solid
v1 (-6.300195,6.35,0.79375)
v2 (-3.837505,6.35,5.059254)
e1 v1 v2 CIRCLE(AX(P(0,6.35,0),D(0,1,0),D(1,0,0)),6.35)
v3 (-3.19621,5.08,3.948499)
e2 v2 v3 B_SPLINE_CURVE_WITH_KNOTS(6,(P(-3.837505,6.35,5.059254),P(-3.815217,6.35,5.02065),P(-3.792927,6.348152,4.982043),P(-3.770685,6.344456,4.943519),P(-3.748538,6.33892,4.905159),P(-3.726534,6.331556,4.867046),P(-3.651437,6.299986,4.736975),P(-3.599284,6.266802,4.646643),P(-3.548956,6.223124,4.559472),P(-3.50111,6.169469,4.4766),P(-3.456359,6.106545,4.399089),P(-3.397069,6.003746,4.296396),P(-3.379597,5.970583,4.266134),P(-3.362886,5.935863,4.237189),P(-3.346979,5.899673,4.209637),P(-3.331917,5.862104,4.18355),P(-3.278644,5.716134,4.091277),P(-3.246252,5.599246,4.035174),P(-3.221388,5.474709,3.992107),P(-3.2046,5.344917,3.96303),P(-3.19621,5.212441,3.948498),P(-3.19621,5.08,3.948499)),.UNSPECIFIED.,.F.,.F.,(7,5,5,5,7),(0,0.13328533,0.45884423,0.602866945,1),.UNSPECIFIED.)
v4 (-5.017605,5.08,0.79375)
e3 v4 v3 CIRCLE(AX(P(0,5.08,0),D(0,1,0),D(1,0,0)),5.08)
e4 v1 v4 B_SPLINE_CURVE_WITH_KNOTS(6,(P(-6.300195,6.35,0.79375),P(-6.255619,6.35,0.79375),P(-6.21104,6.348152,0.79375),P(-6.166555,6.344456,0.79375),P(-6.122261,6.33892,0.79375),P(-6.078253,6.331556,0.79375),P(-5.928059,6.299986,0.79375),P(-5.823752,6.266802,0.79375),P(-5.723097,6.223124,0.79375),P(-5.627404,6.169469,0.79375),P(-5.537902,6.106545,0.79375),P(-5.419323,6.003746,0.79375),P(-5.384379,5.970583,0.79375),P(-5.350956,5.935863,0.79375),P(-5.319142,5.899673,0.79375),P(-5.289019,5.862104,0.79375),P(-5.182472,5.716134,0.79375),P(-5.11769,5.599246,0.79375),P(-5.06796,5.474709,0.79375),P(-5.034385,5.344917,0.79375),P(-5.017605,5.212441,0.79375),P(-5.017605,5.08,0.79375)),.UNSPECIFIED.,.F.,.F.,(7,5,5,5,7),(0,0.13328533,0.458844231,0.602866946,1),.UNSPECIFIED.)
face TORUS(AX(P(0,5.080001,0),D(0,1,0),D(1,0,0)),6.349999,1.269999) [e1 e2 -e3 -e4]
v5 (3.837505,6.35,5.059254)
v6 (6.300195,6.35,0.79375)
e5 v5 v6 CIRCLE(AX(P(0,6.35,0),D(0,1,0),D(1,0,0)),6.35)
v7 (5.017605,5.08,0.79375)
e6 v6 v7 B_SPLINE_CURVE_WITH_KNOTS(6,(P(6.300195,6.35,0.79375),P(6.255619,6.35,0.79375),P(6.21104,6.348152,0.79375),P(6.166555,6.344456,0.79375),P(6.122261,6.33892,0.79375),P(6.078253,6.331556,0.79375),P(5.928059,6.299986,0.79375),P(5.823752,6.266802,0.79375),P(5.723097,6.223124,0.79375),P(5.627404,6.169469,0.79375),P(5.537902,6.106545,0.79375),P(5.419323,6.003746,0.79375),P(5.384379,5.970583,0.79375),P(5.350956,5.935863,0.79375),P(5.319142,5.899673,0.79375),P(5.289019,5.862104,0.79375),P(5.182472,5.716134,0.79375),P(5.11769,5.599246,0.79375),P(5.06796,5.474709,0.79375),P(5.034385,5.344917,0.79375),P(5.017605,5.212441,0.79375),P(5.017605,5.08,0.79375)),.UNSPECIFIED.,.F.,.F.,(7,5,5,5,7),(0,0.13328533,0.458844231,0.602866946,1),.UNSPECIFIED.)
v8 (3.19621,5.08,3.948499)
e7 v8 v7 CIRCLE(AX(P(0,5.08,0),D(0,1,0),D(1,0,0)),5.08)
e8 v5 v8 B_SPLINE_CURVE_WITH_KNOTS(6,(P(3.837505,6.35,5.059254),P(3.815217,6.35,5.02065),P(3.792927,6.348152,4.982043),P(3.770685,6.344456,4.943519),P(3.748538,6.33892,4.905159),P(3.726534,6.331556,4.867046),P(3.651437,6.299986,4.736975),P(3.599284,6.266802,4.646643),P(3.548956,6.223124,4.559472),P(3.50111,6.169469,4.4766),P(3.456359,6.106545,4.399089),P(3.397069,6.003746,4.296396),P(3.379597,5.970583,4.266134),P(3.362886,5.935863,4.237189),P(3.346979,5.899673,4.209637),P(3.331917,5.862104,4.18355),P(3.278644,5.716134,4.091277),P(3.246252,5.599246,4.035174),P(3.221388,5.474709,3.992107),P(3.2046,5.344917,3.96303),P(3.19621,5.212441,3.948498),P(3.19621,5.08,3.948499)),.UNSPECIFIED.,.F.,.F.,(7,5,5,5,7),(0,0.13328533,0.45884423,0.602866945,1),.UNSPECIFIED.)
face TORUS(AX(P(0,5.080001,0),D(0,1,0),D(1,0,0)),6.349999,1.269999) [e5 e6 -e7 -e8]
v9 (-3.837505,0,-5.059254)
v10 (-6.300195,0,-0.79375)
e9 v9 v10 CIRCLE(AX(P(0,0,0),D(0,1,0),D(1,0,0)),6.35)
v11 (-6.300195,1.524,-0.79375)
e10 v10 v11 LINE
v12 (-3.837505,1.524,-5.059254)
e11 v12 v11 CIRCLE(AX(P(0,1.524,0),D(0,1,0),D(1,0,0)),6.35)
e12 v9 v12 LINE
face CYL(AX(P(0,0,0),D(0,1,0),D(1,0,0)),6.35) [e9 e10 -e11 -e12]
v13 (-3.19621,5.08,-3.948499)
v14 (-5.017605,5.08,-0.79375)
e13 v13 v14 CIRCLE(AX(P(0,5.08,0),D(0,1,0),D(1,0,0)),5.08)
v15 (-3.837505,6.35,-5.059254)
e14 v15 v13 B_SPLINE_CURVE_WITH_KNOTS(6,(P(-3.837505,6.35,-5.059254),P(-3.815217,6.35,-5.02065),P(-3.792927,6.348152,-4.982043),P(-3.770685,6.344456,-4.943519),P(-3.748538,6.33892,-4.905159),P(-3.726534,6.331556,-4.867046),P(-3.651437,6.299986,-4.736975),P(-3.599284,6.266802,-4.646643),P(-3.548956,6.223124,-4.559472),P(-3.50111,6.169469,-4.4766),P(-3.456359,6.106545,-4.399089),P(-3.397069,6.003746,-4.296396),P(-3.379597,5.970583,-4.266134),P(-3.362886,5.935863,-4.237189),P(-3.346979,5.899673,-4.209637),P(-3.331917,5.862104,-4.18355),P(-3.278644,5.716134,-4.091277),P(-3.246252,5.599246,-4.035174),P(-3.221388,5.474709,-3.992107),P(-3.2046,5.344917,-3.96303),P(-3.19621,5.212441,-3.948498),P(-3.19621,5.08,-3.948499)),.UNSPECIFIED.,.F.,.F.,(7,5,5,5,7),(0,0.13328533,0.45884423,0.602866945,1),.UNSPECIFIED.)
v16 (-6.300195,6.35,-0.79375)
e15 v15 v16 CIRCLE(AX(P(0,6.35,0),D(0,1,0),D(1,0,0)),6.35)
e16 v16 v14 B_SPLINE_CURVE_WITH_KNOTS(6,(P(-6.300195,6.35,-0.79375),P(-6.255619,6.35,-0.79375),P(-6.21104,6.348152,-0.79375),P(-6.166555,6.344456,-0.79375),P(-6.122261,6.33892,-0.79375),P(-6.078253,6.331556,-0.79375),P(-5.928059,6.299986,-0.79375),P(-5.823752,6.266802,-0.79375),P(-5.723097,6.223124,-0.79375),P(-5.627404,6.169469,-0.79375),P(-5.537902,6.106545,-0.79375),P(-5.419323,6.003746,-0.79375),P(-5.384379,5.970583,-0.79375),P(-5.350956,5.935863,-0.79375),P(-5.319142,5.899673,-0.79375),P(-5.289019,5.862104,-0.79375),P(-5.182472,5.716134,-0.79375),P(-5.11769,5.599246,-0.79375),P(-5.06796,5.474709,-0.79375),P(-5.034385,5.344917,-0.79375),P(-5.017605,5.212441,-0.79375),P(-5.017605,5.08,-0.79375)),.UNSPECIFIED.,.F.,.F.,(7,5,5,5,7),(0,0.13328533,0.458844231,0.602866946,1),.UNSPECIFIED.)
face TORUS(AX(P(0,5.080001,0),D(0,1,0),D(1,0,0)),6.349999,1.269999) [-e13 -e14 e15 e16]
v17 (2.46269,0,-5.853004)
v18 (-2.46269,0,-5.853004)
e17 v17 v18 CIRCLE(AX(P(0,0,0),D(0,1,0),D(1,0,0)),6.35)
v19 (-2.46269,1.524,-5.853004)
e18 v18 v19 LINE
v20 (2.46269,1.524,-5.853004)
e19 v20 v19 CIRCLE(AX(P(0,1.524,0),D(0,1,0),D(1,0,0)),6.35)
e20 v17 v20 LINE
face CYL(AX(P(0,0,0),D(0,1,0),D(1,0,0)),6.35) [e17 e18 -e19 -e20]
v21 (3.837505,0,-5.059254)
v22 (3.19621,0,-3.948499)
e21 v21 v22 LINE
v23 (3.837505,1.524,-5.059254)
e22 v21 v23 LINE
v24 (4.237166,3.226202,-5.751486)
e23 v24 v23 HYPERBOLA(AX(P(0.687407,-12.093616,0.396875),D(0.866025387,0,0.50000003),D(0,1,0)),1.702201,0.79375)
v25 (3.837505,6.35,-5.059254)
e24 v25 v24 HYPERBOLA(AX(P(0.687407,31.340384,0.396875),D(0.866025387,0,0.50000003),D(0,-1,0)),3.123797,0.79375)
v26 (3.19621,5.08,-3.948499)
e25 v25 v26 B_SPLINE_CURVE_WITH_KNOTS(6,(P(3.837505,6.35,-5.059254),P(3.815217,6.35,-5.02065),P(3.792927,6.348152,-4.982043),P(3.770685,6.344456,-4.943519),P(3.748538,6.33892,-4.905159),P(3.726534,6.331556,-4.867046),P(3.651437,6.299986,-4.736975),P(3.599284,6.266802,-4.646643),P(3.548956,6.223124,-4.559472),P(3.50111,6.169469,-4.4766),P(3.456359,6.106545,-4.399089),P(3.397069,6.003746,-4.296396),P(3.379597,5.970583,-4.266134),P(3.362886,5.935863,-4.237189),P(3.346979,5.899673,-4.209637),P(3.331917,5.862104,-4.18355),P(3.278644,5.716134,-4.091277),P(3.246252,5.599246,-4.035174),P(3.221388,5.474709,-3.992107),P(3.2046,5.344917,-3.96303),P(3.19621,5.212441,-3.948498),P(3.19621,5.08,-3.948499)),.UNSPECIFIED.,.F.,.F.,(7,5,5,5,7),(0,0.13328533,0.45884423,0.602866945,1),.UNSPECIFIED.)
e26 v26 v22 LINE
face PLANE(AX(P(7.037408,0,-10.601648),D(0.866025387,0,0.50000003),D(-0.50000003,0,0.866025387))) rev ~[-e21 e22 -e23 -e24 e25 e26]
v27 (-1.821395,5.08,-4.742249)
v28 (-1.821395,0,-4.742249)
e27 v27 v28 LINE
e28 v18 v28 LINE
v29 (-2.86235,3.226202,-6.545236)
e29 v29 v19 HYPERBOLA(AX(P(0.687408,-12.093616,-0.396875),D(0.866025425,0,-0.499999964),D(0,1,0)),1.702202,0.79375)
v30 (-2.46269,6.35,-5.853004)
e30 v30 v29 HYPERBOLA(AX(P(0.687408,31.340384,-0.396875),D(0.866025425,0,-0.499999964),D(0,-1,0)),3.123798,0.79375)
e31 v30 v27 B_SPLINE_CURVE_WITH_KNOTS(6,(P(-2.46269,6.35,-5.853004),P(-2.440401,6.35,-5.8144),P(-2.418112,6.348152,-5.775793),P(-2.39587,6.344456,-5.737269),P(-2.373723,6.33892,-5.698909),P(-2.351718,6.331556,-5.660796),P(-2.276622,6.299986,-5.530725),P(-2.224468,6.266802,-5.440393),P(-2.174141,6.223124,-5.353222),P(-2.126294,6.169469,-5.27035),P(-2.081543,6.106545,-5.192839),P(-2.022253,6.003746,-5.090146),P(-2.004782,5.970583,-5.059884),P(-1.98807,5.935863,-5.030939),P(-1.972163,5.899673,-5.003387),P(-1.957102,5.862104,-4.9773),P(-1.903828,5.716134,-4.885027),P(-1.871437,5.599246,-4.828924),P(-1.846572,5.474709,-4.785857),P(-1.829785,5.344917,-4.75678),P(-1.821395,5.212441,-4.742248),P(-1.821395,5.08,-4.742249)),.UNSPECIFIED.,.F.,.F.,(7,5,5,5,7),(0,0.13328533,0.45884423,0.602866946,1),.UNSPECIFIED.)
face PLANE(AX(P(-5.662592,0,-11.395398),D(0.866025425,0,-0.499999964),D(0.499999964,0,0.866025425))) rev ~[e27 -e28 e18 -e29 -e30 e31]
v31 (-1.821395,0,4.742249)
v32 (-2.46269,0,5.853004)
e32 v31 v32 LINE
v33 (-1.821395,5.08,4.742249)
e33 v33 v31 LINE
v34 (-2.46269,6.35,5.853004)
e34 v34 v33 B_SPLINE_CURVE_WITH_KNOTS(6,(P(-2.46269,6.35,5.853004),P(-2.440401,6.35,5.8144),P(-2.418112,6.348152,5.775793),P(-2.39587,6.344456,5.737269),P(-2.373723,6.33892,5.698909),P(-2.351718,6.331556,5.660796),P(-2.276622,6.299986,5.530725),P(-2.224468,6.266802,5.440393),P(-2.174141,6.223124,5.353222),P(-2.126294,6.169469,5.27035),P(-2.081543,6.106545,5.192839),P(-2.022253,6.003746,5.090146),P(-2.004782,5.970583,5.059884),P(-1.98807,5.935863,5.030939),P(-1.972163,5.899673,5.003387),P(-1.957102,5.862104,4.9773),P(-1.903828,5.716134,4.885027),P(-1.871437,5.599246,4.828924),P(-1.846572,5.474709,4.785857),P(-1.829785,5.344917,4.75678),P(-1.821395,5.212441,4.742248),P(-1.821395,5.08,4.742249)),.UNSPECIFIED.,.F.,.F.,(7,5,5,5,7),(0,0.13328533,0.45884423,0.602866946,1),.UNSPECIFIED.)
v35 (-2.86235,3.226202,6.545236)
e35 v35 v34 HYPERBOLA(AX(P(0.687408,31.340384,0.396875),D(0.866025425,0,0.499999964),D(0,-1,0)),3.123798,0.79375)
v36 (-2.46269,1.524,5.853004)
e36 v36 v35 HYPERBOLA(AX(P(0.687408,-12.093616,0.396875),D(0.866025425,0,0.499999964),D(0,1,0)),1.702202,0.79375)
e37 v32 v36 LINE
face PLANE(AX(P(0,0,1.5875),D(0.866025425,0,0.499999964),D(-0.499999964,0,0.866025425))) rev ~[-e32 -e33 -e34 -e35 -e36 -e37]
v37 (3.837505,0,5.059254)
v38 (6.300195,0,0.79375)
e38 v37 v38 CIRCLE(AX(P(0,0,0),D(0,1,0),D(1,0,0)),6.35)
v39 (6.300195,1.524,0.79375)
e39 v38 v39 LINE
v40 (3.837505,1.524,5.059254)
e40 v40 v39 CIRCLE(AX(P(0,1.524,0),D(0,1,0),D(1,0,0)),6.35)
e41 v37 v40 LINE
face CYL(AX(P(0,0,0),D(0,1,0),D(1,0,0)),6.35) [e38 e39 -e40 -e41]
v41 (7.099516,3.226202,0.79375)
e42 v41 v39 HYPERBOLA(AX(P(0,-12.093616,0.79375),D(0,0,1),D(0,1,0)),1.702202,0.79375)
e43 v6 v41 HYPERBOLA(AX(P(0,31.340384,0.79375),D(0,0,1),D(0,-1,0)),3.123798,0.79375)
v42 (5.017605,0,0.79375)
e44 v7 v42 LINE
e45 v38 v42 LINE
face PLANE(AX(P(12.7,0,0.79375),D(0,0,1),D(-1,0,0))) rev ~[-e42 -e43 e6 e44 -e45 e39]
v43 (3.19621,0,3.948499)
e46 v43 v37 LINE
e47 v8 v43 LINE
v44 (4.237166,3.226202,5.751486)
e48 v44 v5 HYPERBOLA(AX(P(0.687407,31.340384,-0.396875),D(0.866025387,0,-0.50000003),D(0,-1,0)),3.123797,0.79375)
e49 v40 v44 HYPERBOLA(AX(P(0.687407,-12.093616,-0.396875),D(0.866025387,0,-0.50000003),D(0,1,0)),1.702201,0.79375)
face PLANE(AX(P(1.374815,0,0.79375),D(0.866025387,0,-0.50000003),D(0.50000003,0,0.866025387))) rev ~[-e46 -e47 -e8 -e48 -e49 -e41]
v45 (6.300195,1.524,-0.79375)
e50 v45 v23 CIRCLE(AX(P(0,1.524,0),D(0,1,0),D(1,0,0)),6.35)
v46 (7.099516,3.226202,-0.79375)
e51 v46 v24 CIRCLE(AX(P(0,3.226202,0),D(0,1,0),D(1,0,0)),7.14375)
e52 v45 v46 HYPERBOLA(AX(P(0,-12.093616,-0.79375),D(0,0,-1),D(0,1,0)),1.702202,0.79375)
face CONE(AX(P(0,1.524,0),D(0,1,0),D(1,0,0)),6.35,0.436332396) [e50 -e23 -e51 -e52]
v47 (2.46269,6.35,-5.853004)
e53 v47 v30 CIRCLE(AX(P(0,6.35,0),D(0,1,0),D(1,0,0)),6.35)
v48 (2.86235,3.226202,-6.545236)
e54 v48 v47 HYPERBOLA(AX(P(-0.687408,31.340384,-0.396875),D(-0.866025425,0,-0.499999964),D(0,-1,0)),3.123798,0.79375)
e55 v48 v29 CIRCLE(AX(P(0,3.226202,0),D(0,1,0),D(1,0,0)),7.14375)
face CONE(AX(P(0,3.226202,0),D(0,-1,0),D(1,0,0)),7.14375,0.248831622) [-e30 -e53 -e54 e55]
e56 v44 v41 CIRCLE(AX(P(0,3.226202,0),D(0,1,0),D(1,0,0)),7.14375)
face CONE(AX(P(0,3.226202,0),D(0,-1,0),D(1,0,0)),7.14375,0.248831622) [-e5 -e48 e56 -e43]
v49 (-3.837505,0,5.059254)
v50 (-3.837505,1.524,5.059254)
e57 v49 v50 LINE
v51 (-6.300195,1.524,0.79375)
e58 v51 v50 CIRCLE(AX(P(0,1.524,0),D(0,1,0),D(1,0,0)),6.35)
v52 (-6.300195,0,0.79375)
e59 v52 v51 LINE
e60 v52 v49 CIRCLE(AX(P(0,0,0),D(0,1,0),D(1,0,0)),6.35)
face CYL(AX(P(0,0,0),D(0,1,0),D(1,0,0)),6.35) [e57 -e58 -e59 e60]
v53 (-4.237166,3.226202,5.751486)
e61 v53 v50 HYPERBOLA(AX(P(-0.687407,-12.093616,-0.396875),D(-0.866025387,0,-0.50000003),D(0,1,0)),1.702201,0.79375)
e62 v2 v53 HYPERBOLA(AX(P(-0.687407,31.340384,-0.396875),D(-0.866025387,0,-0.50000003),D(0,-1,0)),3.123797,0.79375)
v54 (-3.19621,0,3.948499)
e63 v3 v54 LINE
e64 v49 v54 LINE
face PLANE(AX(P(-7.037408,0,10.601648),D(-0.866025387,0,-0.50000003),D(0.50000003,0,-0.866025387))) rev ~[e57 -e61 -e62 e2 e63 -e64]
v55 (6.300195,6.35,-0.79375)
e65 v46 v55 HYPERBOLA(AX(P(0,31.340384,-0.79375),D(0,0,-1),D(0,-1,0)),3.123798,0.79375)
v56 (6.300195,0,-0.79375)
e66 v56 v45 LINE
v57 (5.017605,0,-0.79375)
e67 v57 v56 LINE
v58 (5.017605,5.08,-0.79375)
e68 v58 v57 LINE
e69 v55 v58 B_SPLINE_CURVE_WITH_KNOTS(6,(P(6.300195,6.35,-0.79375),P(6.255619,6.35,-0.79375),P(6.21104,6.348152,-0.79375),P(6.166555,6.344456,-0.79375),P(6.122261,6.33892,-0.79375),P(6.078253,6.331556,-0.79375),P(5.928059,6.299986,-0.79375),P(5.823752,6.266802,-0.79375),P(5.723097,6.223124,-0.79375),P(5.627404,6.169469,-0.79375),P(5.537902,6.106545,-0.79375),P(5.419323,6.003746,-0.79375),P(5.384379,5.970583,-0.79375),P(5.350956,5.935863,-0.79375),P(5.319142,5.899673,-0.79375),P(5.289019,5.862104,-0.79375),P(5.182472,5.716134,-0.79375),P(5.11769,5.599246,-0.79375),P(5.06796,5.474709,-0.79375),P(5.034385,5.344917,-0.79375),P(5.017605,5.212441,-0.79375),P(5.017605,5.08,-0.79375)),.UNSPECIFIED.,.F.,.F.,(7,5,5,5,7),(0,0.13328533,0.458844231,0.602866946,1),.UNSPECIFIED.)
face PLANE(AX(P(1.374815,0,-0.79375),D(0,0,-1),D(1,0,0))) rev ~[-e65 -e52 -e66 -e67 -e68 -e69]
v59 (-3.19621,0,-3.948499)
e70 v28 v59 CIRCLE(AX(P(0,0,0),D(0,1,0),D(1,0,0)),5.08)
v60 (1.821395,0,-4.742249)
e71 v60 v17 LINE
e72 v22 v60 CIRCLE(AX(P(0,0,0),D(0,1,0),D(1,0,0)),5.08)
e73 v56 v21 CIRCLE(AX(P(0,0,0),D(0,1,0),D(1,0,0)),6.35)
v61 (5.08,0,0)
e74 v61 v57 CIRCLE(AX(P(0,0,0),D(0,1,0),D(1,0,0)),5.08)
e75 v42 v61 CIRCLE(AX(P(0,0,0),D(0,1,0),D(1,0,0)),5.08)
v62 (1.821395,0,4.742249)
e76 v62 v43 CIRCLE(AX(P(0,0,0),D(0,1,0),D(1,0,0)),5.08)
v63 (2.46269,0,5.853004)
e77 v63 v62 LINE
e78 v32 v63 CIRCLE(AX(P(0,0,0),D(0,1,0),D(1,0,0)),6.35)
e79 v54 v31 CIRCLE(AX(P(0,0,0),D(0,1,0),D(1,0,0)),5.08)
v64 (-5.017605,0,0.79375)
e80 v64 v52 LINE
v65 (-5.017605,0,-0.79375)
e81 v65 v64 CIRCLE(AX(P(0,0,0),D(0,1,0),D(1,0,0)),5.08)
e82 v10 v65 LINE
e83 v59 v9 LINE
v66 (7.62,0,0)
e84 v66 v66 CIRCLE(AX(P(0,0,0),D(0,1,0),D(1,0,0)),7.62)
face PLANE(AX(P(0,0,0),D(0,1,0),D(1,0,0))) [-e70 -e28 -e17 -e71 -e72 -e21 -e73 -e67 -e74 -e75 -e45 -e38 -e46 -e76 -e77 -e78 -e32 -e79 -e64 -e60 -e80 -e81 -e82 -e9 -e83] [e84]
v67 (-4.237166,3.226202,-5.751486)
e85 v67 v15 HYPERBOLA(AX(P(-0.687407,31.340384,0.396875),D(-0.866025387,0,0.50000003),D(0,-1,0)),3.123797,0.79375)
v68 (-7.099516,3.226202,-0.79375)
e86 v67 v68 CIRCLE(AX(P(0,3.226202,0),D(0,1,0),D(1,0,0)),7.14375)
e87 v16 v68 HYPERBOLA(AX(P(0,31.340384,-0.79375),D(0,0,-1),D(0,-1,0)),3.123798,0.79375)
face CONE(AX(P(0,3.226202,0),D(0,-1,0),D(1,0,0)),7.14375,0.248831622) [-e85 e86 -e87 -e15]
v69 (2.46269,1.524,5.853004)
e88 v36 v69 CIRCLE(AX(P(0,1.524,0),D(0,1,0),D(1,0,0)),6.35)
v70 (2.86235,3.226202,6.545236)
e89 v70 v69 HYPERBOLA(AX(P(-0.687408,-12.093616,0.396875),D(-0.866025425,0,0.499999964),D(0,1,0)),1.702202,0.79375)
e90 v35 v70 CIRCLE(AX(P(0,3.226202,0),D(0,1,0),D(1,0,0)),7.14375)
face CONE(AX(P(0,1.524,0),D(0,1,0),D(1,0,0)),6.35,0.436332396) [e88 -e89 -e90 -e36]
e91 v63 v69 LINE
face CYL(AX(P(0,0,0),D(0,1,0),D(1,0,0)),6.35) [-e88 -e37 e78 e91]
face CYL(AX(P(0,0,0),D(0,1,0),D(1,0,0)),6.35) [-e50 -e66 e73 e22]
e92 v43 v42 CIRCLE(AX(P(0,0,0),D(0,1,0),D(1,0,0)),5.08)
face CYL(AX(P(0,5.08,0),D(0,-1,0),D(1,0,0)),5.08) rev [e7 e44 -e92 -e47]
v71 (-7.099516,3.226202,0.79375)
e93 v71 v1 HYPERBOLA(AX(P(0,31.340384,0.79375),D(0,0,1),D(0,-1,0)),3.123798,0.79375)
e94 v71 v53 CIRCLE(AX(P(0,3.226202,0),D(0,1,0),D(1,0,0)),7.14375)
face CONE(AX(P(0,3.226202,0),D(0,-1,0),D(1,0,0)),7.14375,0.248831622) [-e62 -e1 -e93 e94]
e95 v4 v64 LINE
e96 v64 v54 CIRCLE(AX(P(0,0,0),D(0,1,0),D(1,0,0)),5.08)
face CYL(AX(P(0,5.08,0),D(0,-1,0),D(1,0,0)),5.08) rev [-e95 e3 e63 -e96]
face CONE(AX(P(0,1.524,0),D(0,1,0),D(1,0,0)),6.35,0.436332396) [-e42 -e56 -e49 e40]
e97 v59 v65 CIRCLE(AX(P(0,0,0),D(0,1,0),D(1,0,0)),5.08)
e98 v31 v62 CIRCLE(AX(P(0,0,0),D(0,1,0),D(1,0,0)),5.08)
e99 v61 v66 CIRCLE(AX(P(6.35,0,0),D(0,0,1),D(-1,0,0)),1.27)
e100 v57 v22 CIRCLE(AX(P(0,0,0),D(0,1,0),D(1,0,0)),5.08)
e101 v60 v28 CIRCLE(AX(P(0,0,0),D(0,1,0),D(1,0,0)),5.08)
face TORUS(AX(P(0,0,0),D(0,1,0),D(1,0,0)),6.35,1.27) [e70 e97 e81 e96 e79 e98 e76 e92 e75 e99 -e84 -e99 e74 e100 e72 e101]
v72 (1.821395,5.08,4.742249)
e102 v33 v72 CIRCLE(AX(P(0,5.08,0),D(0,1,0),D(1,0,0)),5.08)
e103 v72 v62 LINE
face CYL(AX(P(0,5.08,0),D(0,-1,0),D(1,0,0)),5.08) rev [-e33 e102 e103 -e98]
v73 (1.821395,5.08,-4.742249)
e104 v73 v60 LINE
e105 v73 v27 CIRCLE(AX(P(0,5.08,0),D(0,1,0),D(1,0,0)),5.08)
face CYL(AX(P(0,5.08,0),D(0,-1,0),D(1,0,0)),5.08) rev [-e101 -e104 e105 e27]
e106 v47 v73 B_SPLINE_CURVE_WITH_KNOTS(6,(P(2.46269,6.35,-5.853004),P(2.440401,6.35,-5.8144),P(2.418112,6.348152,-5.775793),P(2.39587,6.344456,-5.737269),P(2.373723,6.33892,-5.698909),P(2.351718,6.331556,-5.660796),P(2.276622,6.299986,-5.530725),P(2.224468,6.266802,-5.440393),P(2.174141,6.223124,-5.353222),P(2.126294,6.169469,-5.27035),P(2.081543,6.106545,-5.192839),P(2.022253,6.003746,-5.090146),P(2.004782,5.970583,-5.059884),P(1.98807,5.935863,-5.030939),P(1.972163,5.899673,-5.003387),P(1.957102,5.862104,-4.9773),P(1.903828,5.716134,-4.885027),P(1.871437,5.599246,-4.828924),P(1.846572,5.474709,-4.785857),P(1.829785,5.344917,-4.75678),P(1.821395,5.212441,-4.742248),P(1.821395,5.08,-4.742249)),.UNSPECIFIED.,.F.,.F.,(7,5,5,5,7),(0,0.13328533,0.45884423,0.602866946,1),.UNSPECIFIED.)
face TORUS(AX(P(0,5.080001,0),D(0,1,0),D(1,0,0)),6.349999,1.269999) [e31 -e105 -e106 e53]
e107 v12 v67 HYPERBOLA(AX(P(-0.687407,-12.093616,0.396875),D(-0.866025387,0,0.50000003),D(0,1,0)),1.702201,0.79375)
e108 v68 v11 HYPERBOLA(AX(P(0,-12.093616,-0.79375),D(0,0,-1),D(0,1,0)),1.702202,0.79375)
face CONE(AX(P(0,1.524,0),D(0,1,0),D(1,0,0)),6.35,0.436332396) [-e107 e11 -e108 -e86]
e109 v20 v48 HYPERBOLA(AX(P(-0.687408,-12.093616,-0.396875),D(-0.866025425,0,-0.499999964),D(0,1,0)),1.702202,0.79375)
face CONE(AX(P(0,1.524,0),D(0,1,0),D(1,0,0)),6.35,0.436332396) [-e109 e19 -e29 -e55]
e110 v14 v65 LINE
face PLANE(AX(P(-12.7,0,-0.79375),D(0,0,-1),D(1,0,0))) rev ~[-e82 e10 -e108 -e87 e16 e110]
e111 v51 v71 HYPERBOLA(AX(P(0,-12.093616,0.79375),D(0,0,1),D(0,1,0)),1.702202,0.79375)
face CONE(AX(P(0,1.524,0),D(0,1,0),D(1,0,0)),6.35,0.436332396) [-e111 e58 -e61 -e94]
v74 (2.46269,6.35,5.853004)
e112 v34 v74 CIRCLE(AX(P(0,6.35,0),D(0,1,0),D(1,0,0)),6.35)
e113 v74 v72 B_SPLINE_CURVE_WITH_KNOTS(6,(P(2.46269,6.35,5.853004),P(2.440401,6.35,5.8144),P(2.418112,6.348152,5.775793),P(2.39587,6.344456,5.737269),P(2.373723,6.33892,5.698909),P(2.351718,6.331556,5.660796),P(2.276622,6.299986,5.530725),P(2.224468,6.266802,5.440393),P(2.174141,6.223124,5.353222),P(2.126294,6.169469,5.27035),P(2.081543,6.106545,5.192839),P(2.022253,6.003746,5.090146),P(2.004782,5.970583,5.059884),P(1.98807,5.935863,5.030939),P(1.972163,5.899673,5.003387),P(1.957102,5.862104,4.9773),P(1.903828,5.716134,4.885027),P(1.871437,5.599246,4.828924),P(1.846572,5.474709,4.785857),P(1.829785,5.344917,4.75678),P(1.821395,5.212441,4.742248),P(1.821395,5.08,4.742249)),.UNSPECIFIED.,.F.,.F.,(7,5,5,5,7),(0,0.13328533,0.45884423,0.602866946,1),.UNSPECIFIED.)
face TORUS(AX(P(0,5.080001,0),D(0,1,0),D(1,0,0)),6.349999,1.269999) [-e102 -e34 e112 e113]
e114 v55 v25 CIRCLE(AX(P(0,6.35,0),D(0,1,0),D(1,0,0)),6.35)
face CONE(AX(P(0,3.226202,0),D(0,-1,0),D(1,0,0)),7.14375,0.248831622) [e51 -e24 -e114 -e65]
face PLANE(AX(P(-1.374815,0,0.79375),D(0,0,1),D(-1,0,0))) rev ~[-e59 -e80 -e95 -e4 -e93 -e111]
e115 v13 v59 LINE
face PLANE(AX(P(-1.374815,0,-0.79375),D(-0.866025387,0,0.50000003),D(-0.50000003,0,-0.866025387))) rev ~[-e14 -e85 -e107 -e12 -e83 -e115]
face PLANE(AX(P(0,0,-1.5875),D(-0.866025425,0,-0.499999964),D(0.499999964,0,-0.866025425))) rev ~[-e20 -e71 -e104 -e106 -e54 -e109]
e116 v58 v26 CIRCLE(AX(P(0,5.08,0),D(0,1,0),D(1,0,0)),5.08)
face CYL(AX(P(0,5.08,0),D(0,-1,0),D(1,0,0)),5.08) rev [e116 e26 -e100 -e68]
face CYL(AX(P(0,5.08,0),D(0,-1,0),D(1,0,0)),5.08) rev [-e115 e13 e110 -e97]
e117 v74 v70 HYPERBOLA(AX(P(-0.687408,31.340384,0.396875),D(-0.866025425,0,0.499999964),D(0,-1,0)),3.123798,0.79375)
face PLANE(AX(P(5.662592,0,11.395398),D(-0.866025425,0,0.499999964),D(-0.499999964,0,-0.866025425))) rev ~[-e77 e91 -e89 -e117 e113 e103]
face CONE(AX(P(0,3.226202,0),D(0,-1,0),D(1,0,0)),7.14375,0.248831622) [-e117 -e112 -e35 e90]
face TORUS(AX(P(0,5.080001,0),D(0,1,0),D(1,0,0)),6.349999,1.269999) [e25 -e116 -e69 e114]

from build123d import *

# Parameters (mm, degrees)
F3_DEPTH = 6.351


with BuildPart() as f1:
    # F0 (on Top) → F1 (revolve)
    with BuildSketch(Plane.XY):
        with BuildLine():
            Line((7.62, 0), (6.35, 0))
            Line((6.35, 0), (6.35, 1.524))
            Line((6.35, 1.524), (7.14375, 3.226202))
            Line((7.14375, 3.226202), (6.35, 6.35))
            ThreePointArc((6.35, 6.35), (5.451974, 5.978026), (5.08, 5.08))
            Line((5.08, 5.08), (5.08, 0))
            ThreePointArc((5.08, 0), (6.35, -1.27), (7.62, 0))
        make_face()
    revolve(axis=Axis((0, 3.175, 0), (0, 1, 0)))

    # F2 (on Front) → F3 (cut, through all)
    with BuildSketch(Plane.XZ):
        Polygon((-1.374815, 0.79375), (-0.458272, 0.79375), (0, 1.5875), (-5.662592, 11.395398), (-7.037408, 10.601648), align=None)
        Polygon((0, 1.5875), (0.458272, 0.79375), (1.374815, 0.79375), (7.037408, 10.601648), (5.662592, 11.395398), align=None)
        Polygon((-0.916544, 0), (-1.374815, 0.79375), (-12.7, 0.79375), (-12.7, -0.79375), (-1.374815, -0.79375), align=None)
        Polygon((12.7, 0.79375), (1.374815, 0.79375), (0.916544, 0), (1.374815, -0.79375), (12.7, -0.79375), align=None)
        Polygon((0, -1.5875), (-0.458272, -0.79375), (-1.374815, -0.79375), (-7.037408, -10.601648), (-5.662592, -11.395398), align=None)
        Polygon((1.374815, -0.79375), (0.458272, -0.79375), (0, -1.5875), (5.662592, -11.395398), (7.037408, -10.601648), align=None)
    extrude(amount=-F3_DEPTH, mode=Mode.SUBTRACT)


solid = f1.part
